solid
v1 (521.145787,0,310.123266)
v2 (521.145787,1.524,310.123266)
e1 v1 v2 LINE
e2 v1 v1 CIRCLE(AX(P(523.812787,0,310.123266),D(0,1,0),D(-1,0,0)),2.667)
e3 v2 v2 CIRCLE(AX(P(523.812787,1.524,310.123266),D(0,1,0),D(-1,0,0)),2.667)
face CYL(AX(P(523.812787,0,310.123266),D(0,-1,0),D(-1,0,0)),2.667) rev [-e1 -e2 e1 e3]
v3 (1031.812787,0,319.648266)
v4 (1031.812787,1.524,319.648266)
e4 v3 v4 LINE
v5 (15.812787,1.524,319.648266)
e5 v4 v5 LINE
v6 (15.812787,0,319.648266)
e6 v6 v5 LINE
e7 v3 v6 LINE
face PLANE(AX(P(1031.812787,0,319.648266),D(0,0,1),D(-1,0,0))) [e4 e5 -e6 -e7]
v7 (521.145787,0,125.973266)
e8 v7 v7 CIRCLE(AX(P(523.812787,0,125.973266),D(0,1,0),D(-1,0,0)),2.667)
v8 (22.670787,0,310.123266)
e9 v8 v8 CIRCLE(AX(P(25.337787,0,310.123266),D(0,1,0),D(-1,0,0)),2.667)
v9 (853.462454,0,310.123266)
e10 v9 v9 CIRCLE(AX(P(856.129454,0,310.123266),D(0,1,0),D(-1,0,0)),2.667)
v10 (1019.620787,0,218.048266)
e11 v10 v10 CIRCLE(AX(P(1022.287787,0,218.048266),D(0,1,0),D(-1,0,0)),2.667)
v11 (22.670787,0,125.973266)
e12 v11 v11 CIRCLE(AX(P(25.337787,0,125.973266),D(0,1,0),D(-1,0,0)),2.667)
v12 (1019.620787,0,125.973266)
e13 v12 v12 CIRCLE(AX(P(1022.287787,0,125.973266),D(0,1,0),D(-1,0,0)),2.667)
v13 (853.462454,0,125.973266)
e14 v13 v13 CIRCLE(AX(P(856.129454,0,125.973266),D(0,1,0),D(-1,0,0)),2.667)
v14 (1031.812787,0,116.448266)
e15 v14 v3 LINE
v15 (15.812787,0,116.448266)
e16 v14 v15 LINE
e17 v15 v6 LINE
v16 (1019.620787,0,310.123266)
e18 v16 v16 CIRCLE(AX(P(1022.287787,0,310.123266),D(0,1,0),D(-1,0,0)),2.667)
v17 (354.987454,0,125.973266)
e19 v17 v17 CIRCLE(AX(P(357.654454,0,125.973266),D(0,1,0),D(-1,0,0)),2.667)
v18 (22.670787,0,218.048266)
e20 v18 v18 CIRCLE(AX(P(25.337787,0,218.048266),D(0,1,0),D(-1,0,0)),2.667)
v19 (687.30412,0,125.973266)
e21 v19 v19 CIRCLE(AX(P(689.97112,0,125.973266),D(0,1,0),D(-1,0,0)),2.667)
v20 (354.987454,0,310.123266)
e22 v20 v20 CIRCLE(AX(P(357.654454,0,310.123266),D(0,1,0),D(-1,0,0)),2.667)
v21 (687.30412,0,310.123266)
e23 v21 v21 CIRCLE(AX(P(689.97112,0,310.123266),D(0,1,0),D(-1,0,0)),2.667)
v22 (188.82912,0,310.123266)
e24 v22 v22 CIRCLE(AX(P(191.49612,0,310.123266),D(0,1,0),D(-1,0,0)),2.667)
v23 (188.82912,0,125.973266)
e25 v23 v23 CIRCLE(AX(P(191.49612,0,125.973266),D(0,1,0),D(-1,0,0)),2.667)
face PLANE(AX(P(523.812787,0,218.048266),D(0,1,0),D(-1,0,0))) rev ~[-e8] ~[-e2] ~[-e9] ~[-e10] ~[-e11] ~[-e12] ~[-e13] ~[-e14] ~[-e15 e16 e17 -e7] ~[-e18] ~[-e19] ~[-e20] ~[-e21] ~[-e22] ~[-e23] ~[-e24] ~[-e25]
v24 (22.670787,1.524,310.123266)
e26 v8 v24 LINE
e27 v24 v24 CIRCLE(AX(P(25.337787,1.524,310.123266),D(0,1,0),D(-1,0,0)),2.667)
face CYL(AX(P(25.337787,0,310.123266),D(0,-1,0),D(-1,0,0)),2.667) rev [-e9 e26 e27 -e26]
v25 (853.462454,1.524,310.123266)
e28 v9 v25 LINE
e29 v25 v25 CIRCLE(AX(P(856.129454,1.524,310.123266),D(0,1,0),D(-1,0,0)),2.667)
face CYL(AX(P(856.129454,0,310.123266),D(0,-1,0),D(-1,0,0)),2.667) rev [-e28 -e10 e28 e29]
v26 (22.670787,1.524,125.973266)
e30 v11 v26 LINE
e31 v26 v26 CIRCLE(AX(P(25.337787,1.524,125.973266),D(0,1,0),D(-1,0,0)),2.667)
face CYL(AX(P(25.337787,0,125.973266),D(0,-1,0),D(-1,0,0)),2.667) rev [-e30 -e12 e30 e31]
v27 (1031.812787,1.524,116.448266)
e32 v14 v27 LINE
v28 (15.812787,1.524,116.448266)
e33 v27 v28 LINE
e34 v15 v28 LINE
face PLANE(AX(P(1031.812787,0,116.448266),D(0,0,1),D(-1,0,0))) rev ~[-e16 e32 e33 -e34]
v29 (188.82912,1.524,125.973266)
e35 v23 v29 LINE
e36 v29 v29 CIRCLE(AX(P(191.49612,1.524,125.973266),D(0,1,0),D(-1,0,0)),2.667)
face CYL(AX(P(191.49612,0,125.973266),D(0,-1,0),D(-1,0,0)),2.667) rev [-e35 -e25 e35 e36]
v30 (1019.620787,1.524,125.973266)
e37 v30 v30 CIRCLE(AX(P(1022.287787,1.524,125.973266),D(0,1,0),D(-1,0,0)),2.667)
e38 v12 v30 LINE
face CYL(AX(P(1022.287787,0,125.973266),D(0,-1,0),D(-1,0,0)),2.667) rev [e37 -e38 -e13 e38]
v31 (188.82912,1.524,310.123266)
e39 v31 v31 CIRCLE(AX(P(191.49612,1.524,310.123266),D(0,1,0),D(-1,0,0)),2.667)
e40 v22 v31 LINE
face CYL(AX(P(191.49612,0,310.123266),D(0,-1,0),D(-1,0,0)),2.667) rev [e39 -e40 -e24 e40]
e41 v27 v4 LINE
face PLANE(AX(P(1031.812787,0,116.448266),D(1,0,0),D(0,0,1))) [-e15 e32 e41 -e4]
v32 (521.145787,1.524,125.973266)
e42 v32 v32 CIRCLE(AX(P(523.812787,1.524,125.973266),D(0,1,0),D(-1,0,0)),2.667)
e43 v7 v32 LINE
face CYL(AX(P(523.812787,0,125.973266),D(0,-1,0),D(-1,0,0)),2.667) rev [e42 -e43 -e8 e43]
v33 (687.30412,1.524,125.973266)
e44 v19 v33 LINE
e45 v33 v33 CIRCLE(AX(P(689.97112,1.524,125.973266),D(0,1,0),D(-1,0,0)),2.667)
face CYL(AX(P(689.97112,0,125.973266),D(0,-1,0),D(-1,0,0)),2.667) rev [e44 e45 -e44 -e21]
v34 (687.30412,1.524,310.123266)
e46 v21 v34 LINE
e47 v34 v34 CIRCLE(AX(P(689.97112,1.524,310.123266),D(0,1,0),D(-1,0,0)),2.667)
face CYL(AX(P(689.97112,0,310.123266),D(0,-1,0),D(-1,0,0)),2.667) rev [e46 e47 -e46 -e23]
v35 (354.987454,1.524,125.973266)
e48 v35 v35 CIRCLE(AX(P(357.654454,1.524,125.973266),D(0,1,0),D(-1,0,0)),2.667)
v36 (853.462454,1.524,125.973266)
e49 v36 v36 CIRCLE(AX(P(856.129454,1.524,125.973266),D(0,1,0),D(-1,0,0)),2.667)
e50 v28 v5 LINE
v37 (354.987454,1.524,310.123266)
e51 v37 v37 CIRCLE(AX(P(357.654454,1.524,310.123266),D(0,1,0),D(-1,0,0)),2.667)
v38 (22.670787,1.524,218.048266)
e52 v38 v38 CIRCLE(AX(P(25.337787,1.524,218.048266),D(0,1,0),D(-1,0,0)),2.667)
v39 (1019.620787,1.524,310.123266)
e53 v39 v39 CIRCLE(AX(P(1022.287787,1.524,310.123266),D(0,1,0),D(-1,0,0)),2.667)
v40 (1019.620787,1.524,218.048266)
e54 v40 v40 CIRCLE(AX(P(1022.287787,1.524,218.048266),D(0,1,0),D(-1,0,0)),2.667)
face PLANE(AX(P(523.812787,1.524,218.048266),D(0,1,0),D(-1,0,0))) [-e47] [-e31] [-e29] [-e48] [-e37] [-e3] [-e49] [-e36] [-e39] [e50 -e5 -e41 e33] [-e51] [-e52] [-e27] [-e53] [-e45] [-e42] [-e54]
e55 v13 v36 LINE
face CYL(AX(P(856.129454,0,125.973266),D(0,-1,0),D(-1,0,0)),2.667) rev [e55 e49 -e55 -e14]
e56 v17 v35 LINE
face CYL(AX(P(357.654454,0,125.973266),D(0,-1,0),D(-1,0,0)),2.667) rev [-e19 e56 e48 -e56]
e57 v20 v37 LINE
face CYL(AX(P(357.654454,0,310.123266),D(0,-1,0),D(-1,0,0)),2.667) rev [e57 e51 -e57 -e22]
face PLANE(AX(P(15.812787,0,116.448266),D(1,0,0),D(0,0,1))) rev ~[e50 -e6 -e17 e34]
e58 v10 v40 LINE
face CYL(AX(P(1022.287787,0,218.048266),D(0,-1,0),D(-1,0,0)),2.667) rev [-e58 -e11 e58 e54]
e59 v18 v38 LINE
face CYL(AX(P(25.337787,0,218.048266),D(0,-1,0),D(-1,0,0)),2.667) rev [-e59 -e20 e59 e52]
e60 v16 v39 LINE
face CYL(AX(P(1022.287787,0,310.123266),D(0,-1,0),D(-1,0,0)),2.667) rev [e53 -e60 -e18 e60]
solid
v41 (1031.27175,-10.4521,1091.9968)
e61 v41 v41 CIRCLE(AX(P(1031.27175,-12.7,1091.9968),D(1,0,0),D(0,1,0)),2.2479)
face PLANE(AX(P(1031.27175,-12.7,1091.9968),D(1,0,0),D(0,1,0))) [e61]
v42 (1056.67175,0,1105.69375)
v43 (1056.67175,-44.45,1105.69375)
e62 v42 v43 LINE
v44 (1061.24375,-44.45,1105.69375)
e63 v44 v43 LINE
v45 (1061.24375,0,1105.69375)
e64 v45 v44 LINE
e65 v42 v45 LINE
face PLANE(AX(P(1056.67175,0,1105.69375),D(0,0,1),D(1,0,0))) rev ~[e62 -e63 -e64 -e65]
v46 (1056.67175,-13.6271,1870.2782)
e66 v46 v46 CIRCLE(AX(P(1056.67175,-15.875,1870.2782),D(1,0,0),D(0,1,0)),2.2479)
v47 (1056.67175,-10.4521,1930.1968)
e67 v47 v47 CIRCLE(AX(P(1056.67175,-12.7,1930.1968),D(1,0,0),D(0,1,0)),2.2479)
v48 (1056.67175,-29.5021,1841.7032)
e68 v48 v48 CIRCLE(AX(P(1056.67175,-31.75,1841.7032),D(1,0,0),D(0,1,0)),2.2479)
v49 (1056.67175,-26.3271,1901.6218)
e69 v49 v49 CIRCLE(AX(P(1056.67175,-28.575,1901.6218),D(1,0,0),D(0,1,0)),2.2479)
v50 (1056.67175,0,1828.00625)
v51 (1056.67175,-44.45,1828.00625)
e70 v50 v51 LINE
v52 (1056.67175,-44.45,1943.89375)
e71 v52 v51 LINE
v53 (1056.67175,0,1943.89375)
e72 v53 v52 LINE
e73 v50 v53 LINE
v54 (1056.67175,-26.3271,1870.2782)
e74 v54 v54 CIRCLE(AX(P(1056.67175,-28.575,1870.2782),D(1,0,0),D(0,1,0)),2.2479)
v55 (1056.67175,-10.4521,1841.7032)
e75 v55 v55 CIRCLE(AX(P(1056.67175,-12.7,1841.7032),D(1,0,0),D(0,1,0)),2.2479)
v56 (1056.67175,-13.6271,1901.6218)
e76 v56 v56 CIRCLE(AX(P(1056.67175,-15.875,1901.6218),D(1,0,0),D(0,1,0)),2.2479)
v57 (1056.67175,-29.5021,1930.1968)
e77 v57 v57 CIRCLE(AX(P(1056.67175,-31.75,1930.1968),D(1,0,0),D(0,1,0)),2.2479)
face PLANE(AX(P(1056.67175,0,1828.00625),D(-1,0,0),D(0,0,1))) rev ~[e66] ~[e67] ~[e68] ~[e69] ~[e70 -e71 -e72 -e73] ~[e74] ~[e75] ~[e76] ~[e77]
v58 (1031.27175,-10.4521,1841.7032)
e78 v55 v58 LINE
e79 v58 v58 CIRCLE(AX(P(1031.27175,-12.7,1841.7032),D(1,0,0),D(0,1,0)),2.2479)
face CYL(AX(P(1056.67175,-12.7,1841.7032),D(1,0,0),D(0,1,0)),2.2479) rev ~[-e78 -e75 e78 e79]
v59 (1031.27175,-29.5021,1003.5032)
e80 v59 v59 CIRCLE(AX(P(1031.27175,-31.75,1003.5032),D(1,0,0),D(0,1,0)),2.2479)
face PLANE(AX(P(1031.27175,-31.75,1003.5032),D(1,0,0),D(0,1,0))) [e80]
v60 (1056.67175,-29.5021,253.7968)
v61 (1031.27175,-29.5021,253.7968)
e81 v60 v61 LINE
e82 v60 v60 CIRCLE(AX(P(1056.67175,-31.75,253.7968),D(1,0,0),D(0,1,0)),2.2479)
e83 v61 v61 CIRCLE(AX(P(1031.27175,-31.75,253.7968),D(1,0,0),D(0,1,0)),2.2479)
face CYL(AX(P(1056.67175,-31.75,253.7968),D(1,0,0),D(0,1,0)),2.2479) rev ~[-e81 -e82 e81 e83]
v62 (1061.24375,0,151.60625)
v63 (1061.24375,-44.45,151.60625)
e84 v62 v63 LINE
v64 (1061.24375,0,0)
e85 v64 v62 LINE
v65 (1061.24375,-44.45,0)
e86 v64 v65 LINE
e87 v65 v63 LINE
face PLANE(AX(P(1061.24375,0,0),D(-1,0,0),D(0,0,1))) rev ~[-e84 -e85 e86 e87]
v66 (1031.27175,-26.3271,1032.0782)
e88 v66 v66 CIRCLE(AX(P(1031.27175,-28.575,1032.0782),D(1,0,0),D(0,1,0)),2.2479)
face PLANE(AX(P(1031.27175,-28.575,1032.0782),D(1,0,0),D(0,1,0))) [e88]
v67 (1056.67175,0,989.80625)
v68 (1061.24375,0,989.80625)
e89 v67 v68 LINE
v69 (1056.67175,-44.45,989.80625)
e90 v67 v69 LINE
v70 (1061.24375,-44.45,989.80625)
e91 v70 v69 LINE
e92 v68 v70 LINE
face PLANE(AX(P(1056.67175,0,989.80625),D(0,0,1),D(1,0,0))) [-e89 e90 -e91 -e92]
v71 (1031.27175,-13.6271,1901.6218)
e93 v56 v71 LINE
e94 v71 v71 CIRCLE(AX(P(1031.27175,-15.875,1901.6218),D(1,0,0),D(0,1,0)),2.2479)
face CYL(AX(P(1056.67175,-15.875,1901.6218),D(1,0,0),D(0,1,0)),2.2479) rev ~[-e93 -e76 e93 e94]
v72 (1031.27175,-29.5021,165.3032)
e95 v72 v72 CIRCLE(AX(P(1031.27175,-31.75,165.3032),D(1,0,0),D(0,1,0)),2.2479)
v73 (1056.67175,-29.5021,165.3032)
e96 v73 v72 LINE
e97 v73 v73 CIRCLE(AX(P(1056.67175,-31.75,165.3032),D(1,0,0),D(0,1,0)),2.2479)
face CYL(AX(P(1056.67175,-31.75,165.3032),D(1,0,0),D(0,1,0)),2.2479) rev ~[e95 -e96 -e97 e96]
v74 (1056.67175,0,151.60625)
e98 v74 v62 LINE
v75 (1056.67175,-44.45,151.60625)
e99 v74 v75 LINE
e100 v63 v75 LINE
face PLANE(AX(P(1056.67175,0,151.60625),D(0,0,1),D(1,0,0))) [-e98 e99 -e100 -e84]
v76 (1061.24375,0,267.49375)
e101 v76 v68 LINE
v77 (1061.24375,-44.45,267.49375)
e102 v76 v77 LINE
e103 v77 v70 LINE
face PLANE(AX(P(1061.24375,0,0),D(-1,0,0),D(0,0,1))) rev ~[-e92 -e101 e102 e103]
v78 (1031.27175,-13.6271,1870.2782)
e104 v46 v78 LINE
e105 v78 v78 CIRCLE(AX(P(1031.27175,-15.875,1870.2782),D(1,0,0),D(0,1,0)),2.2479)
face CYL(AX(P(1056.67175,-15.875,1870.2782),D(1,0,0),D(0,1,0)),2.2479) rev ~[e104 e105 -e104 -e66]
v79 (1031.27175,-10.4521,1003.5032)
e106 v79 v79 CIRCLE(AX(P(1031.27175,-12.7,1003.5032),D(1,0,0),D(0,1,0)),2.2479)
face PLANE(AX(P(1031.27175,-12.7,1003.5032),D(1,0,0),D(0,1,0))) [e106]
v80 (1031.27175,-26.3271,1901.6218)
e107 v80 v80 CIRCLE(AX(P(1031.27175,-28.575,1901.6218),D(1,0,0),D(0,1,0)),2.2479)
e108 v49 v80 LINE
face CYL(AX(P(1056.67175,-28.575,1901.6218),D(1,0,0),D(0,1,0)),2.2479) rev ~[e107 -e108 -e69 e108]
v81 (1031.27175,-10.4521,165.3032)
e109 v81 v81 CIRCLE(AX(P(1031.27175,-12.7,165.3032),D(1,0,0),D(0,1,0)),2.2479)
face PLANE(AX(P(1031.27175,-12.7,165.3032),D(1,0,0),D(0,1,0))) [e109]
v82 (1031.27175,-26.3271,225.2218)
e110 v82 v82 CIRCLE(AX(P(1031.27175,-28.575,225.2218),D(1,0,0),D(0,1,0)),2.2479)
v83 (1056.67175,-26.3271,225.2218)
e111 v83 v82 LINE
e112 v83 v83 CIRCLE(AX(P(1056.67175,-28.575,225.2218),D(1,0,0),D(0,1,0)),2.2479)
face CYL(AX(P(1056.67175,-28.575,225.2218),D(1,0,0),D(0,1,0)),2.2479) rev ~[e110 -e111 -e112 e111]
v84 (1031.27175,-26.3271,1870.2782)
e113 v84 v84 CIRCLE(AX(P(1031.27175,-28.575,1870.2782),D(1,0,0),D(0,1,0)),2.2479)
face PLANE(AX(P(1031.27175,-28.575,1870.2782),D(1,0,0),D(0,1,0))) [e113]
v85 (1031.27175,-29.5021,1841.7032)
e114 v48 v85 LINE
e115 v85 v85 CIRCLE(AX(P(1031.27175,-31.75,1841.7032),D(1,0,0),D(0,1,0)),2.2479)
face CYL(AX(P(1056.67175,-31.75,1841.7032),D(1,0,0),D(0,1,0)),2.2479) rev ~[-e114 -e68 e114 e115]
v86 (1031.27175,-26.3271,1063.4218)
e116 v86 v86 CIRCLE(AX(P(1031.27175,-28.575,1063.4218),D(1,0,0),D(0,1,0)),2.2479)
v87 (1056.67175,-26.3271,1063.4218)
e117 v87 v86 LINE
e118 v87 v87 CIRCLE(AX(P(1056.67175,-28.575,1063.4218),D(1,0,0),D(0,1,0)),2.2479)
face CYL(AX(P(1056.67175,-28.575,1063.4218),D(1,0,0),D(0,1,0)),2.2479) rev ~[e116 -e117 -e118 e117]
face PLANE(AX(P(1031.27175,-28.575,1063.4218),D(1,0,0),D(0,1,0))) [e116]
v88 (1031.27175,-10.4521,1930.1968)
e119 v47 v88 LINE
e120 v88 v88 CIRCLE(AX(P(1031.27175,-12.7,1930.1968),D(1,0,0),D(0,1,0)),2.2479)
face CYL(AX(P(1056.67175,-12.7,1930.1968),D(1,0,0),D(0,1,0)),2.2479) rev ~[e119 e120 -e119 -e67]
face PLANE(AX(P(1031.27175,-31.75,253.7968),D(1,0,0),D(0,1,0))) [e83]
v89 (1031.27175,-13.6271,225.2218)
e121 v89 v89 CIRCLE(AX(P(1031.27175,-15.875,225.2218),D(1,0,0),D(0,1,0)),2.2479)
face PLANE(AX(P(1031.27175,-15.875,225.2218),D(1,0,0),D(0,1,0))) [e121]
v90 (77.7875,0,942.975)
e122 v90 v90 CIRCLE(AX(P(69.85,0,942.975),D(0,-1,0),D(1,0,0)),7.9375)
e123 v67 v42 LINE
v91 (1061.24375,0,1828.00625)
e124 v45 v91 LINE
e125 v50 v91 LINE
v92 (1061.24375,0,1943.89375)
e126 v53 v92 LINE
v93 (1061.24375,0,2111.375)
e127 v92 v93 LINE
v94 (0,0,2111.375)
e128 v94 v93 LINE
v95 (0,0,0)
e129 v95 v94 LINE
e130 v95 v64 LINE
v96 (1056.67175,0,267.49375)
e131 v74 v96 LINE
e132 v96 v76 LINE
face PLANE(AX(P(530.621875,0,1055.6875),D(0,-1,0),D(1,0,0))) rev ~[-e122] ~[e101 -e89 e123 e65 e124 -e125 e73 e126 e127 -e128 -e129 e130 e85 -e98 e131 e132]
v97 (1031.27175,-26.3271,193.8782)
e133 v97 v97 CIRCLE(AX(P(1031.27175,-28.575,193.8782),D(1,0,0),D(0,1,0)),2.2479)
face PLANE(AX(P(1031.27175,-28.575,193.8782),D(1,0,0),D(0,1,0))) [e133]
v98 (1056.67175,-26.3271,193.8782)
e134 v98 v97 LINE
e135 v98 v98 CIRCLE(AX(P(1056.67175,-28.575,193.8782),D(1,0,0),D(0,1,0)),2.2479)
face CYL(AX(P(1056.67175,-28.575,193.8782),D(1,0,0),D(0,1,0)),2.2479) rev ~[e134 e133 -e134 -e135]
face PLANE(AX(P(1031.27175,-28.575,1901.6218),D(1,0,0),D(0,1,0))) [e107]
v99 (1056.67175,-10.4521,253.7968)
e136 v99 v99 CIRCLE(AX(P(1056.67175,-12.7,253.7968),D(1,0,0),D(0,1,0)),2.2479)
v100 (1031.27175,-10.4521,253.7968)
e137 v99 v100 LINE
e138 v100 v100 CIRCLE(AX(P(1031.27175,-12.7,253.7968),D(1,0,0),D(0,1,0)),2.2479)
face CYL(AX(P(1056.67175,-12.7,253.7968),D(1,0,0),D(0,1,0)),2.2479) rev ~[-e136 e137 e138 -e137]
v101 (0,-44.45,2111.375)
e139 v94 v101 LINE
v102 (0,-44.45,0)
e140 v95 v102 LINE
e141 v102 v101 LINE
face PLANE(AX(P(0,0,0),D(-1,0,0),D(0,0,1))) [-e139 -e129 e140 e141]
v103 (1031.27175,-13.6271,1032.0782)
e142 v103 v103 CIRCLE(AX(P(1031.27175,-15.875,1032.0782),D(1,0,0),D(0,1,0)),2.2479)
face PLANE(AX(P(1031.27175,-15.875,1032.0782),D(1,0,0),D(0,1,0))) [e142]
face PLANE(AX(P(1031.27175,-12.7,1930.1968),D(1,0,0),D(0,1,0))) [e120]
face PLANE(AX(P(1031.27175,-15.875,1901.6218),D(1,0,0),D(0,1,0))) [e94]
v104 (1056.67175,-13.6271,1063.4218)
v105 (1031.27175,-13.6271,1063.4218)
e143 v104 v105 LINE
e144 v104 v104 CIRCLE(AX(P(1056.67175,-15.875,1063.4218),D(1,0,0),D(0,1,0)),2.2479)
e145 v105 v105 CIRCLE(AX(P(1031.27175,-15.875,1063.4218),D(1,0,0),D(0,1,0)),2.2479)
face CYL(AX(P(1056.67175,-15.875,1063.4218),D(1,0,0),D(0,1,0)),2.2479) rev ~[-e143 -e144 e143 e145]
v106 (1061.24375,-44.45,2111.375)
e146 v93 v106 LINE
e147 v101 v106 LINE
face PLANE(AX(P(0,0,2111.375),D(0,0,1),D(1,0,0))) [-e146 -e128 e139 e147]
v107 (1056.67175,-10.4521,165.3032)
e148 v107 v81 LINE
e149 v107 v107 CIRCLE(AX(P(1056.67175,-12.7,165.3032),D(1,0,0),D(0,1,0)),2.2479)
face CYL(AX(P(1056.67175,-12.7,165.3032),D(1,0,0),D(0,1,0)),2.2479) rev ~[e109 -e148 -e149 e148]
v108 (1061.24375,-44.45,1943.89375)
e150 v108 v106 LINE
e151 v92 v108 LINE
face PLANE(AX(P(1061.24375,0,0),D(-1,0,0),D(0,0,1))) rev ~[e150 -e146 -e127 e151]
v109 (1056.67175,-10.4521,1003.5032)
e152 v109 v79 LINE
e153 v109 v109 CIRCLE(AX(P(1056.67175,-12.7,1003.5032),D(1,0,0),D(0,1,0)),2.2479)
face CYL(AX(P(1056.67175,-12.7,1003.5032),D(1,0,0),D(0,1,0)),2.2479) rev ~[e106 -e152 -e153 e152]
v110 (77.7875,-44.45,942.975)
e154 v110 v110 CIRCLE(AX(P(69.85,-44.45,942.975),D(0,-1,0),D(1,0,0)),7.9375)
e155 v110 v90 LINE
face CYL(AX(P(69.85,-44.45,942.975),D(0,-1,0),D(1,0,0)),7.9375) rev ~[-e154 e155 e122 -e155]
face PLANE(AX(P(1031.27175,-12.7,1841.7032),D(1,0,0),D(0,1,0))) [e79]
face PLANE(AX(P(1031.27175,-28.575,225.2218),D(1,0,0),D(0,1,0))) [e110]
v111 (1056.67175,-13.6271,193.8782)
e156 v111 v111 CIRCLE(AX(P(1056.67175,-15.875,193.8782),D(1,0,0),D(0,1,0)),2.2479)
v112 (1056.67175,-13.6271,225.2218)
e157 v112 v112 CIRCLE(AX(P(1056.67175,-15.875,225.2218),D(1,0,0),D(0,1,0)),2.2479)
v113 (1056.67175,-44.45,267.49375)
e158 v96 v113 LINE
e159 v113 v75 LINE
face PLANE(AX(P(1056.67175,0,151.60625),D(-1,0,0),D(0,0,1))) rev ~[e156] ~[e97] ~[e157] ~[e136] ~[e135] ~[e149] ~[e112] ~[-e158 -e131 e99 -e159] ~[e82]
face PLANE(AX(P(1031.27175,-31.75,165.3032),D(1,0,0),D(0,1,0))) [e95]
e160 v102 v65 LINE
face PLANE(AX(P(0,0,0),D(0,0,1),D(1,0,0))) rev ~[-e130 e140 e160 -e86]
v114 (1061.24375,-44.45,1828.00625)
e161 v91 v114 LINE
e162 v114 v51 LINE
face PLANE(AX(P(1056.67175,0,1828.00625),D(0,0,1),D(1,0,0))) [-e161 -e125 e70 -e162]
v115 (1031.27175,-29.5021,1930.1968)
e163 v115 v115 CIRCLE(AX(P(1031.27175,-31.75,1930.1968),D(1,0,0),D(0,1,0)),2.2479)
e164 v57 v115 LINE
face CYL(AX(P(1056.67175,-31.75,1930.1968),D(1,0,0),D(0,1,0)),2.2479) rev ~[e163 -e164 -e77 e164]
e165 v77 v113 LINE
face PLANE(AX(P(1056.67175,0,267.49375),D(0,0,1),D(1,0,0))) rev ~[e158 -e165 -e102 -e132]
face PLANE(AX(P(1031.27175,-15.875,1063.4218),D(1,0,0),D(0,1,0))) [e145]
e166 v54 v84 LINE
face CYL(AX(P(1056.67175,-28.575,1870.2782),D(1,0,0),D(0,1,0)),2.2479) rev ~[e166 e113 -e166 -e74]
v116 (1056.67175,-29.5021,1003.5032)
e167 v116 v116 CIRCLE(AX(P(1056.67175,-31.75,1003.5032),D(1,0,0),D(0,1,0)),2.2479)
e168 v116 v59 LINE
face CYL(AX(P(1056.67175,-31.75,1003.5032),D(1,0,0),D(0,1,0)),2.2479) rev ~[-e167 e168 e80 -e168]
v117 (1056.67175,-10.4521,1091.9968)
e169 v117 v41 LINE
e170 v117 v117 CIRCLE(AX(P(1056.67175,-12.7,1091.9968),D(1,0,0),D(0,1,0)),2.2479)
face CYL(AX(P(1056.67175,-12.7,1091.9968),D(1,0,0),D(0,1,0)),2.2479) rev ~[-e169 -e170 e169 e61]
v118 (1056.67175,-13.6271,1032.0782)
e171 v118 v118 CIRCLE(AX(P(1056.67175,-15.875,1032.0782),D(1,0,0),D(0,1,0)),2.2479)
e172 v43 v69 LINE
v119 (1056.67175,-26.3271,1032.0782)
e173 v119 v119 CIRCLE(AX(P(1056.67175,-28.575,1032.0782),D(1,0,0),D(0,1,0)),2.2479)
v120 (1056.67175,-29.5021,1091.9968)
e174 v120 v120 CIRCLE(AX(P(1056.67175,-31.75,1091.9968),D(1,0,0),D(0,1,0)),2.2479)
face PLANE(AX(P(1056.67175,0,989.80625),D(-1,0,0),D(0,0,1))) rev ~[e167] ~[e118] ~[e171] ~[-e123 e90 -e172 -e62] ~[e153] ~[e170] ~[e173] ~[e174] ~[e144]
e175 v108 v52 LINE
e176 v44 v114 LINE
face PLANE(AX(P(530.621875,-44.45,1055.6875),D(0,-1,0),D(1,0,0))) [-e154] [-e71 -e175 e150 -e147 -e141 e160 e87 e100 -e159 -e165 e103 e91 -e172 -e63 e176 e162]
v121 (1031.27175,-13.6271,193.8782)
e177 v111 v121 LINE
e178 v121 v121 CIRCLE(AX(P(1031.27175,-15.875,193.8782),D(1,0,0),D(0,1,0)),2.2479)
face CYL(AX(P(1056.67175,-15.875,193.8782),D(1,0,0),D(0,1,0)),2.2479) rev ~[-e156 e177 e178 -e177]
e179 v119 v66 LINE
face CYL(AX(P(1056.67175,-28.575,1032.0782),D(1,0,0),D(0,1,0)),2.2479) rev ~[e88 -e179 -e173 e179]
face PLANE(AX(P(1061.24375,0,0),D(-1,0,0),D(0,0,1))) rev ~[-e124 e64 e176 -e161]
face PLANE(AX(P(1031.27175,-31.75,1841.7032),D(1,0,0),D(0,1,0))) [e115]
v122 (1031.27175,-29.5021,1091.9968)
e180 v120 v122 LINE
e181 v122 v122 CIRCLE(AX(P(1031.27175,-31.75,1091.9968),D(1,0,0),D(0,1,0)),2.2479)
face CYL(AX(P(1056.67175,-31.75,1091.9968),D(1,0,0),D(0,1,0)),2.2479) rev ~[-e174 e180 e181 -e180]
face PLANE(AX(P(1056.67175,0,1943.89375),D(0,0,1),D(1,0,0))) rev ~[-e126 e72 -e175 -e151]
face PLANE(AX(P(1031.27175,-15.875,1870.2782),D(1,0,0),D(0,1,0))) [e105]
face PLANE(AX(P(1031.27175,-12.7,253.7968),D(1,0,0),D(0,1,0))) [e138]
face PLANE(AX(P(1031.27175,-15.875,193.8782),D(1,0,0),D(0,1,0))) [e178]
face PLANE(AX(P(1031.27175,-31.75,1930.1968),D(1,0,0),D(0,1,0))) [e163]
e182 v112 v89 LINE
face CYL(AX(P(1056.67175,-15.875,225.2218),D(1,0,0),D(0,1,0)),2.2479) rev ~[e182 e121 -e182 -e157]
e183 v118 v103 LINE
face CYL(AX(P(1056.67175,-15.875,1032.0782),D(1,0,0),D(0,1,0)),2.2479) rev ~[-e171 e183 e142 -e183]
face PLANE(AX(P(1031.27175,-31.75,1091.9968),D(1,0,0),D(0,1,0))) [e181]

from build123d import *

# Parameters (mm, degrees)
F0_W     = 1061.24375
F0_H     = 2111.375
F1_DEPTH = 44.45
F2_W     = 4.572
F2_H     = 115.8875
F3_DEPTH = 44.451
F4_R     = 2.2479
F5_DEPTH = 25.4
F6_R     = 7.9375
F7_DEPTH = 44.451
F8_W     = 1016
F8_H     = 203.2
F8_R     = 2.667
F9_DEPTH = 1.524


with BuildPart() as f1:
    # F0 (on Front) → F1 (new body)
    with BuildSketch(Plane.XZ):
        with Locations((530.621875, 1055.6875)):
            Rectangle(F0_W, F0_H)
    extrude(amount=F1_DEPTH)

    # F2 (on Front) → F3 (cut, through all)
    with BuildSketch(Plane.XZ):
        with Locations((1058.95775, 1885.95)):
            Rectangle(F2_W, F2_H)
        with Locations((1058.95775, 1047.75)):
            Rectangle(F2_W, F2_H)
        with Locations((1058.95775, 209.55)):
            Rectangle(F2_W, F2_H)
    extrude(amount=F3_DEPTH, mode=Mode.SUBTRACT)

    # F4 (on face) → F5 (cut)
    with BuildSketch(Plane.YZ.offset(1056.67175)):
        with Locations((-31.75, 1930.1968)):
            Circle(F4_R)
        with Locations((-15.875, 1901.6218)):
            Circle(F4_R)
        with Locations((-15.875, 1870.2782)):
            Circle(F4_R)
        with Locations((-31.75, 1841.7032)):
            Circle(F4_R)
        with Locations((-12.7, 1930.1968)):
            Circle(F4_R)
        with Locations((-28.575, 1901.6218)):
            Circle(F4_R)
        with Locations((-28.575, 1870.2782)):
            Circle(F4_R)
        with Locations((-12.7, 1841.7032)):
            Circle(F4_R)
        with Locations((-31.75, 1091.9968)):
            Circle(F4_R)
        with Locations((-12.7, 1091.9968)):
            Circle(F4_R)
        with Locations((-15.875, 1063.4218)):
            Circle(F4_R)
        with Locations((-28.575, 1063.4218)):
            Circle(F4_R)
        with Locations((-15.875, 1032.0782)):
            Circle(F4_R)
        with Locations((-28.575, 1032.0782)):
            Circle(F4_R)
        with Locations((-12.7, 1003.5032)):
            Circle(F4_R)
        with Locations((-31.75, 1003.5032)):
            Circle(F4_R)
        with Locations((-31.75, 253.7968)):
            Circle(F4_R)
        with Locations((-12.7, 253.7968)):
            Circle(F4_R)
        with Locations((-15.875, 225.2218)):
            Circle(F4_R)
        with Locations((-28.575, 225.2218)):
            Circle(F4_R)
        with Locations((-15.875, 193.8782)):
            Circle(F4_R)
        with Locations((-28.575, 193.8782)):
            Circle(F4_R)
        with Locations((-12.7, 165.3032)):
            Circle(F4_R)
        with Locations((-31.75, 165.3032)):
            Circle(F4_R)
    extrude(amount=-F5_DEPTH, mode=Mode.SUBTRACT)

    # F6 (on face) → F7 (cut, through all)
    with BuildSketch(Plane.XZ.offset(44.45)):
        with Locations((69.85, 942.975)):
            Circle(F6_R)
    extrude(amount=-F7_DEPTH, mode=Mode.SUBTRACT)


with BuildPart() as f9:
    # F8 (on face) → F9 (new body)
    with BuildSketch(Plane(origin=(0, 0, 0), x_dir=(-1, 0, 0), z_dir=(0, 1, 0))):
        with Locations((-523.812787, 218.048266)):
            Rectangle(F8_W, F8_H)
        with Locations((-1022.287787, 125.973266)):
            Circle(F8_R, mode=Mode.SUBTRACT)
        with Locations((-856.129454, 125.973266)):
            Circle(F8_R, mode=Mode.SUBTRACT)
        with Locations((-689.97112, 125.973266)):
            Circle(F8_R, mode=Mode.SUBTRACT)
        with Locations((-1022.287787, 218.048266)):
            Circle(F8_R, mode=Mode.SUBTRACT)
        with Locations((-523.812787, 125.973266)):
            Circle(F8_R, mode=Mode.SUBTRACT)
        with Locations((-357.654454, 125.973266)):
            Circle(F8_R, mode=Mode.SUBTRACT)
        with Locations((-191.49612, 125.973266)):
            Circle(F8_R, mode=Mode.SUBTRACT)
        with Locations((-25.337787, 125.973266)):
            Circle(F8_R, mode=Mode.SUBTRACT)
        with Locations((-25.337787, 218.048266)):
            Circle(F8_R, mode=Mode.SUBTRACT)
        with Locations((-1022.287787, 310.123266)):
            Circle(F8_R, mode=Mode.SUBTRACT)
        with Locations((-856.129454, 310.123266)):
            Circle(F8_R, mode=Mode.SUBTRACT)
        with Locations((-689.97112, 310.123266)):
            Circle(F8_R, mode=Mode.SUBTRACT)
        with Locations((-523.812787, 310.123266)):
            Circle(F8_R, mode=Mode.SUBTRACT)
        with Locations((-357.654454, 310.123266)):
            Circle(F8_R, mode=Mode.SUBTRACT)
        with Locations((-191.49612, 310.123266)):
            Circle(F8_R, mode=Mode.SUBTRACT)
        with Locations((-25.337787, 310.123266)):
            Circle(F8_R, mode=Mode.SUBTRACT)
    extrude(amount=F9_DEPTH)


solid = Compound([f1.part, f9.part])
